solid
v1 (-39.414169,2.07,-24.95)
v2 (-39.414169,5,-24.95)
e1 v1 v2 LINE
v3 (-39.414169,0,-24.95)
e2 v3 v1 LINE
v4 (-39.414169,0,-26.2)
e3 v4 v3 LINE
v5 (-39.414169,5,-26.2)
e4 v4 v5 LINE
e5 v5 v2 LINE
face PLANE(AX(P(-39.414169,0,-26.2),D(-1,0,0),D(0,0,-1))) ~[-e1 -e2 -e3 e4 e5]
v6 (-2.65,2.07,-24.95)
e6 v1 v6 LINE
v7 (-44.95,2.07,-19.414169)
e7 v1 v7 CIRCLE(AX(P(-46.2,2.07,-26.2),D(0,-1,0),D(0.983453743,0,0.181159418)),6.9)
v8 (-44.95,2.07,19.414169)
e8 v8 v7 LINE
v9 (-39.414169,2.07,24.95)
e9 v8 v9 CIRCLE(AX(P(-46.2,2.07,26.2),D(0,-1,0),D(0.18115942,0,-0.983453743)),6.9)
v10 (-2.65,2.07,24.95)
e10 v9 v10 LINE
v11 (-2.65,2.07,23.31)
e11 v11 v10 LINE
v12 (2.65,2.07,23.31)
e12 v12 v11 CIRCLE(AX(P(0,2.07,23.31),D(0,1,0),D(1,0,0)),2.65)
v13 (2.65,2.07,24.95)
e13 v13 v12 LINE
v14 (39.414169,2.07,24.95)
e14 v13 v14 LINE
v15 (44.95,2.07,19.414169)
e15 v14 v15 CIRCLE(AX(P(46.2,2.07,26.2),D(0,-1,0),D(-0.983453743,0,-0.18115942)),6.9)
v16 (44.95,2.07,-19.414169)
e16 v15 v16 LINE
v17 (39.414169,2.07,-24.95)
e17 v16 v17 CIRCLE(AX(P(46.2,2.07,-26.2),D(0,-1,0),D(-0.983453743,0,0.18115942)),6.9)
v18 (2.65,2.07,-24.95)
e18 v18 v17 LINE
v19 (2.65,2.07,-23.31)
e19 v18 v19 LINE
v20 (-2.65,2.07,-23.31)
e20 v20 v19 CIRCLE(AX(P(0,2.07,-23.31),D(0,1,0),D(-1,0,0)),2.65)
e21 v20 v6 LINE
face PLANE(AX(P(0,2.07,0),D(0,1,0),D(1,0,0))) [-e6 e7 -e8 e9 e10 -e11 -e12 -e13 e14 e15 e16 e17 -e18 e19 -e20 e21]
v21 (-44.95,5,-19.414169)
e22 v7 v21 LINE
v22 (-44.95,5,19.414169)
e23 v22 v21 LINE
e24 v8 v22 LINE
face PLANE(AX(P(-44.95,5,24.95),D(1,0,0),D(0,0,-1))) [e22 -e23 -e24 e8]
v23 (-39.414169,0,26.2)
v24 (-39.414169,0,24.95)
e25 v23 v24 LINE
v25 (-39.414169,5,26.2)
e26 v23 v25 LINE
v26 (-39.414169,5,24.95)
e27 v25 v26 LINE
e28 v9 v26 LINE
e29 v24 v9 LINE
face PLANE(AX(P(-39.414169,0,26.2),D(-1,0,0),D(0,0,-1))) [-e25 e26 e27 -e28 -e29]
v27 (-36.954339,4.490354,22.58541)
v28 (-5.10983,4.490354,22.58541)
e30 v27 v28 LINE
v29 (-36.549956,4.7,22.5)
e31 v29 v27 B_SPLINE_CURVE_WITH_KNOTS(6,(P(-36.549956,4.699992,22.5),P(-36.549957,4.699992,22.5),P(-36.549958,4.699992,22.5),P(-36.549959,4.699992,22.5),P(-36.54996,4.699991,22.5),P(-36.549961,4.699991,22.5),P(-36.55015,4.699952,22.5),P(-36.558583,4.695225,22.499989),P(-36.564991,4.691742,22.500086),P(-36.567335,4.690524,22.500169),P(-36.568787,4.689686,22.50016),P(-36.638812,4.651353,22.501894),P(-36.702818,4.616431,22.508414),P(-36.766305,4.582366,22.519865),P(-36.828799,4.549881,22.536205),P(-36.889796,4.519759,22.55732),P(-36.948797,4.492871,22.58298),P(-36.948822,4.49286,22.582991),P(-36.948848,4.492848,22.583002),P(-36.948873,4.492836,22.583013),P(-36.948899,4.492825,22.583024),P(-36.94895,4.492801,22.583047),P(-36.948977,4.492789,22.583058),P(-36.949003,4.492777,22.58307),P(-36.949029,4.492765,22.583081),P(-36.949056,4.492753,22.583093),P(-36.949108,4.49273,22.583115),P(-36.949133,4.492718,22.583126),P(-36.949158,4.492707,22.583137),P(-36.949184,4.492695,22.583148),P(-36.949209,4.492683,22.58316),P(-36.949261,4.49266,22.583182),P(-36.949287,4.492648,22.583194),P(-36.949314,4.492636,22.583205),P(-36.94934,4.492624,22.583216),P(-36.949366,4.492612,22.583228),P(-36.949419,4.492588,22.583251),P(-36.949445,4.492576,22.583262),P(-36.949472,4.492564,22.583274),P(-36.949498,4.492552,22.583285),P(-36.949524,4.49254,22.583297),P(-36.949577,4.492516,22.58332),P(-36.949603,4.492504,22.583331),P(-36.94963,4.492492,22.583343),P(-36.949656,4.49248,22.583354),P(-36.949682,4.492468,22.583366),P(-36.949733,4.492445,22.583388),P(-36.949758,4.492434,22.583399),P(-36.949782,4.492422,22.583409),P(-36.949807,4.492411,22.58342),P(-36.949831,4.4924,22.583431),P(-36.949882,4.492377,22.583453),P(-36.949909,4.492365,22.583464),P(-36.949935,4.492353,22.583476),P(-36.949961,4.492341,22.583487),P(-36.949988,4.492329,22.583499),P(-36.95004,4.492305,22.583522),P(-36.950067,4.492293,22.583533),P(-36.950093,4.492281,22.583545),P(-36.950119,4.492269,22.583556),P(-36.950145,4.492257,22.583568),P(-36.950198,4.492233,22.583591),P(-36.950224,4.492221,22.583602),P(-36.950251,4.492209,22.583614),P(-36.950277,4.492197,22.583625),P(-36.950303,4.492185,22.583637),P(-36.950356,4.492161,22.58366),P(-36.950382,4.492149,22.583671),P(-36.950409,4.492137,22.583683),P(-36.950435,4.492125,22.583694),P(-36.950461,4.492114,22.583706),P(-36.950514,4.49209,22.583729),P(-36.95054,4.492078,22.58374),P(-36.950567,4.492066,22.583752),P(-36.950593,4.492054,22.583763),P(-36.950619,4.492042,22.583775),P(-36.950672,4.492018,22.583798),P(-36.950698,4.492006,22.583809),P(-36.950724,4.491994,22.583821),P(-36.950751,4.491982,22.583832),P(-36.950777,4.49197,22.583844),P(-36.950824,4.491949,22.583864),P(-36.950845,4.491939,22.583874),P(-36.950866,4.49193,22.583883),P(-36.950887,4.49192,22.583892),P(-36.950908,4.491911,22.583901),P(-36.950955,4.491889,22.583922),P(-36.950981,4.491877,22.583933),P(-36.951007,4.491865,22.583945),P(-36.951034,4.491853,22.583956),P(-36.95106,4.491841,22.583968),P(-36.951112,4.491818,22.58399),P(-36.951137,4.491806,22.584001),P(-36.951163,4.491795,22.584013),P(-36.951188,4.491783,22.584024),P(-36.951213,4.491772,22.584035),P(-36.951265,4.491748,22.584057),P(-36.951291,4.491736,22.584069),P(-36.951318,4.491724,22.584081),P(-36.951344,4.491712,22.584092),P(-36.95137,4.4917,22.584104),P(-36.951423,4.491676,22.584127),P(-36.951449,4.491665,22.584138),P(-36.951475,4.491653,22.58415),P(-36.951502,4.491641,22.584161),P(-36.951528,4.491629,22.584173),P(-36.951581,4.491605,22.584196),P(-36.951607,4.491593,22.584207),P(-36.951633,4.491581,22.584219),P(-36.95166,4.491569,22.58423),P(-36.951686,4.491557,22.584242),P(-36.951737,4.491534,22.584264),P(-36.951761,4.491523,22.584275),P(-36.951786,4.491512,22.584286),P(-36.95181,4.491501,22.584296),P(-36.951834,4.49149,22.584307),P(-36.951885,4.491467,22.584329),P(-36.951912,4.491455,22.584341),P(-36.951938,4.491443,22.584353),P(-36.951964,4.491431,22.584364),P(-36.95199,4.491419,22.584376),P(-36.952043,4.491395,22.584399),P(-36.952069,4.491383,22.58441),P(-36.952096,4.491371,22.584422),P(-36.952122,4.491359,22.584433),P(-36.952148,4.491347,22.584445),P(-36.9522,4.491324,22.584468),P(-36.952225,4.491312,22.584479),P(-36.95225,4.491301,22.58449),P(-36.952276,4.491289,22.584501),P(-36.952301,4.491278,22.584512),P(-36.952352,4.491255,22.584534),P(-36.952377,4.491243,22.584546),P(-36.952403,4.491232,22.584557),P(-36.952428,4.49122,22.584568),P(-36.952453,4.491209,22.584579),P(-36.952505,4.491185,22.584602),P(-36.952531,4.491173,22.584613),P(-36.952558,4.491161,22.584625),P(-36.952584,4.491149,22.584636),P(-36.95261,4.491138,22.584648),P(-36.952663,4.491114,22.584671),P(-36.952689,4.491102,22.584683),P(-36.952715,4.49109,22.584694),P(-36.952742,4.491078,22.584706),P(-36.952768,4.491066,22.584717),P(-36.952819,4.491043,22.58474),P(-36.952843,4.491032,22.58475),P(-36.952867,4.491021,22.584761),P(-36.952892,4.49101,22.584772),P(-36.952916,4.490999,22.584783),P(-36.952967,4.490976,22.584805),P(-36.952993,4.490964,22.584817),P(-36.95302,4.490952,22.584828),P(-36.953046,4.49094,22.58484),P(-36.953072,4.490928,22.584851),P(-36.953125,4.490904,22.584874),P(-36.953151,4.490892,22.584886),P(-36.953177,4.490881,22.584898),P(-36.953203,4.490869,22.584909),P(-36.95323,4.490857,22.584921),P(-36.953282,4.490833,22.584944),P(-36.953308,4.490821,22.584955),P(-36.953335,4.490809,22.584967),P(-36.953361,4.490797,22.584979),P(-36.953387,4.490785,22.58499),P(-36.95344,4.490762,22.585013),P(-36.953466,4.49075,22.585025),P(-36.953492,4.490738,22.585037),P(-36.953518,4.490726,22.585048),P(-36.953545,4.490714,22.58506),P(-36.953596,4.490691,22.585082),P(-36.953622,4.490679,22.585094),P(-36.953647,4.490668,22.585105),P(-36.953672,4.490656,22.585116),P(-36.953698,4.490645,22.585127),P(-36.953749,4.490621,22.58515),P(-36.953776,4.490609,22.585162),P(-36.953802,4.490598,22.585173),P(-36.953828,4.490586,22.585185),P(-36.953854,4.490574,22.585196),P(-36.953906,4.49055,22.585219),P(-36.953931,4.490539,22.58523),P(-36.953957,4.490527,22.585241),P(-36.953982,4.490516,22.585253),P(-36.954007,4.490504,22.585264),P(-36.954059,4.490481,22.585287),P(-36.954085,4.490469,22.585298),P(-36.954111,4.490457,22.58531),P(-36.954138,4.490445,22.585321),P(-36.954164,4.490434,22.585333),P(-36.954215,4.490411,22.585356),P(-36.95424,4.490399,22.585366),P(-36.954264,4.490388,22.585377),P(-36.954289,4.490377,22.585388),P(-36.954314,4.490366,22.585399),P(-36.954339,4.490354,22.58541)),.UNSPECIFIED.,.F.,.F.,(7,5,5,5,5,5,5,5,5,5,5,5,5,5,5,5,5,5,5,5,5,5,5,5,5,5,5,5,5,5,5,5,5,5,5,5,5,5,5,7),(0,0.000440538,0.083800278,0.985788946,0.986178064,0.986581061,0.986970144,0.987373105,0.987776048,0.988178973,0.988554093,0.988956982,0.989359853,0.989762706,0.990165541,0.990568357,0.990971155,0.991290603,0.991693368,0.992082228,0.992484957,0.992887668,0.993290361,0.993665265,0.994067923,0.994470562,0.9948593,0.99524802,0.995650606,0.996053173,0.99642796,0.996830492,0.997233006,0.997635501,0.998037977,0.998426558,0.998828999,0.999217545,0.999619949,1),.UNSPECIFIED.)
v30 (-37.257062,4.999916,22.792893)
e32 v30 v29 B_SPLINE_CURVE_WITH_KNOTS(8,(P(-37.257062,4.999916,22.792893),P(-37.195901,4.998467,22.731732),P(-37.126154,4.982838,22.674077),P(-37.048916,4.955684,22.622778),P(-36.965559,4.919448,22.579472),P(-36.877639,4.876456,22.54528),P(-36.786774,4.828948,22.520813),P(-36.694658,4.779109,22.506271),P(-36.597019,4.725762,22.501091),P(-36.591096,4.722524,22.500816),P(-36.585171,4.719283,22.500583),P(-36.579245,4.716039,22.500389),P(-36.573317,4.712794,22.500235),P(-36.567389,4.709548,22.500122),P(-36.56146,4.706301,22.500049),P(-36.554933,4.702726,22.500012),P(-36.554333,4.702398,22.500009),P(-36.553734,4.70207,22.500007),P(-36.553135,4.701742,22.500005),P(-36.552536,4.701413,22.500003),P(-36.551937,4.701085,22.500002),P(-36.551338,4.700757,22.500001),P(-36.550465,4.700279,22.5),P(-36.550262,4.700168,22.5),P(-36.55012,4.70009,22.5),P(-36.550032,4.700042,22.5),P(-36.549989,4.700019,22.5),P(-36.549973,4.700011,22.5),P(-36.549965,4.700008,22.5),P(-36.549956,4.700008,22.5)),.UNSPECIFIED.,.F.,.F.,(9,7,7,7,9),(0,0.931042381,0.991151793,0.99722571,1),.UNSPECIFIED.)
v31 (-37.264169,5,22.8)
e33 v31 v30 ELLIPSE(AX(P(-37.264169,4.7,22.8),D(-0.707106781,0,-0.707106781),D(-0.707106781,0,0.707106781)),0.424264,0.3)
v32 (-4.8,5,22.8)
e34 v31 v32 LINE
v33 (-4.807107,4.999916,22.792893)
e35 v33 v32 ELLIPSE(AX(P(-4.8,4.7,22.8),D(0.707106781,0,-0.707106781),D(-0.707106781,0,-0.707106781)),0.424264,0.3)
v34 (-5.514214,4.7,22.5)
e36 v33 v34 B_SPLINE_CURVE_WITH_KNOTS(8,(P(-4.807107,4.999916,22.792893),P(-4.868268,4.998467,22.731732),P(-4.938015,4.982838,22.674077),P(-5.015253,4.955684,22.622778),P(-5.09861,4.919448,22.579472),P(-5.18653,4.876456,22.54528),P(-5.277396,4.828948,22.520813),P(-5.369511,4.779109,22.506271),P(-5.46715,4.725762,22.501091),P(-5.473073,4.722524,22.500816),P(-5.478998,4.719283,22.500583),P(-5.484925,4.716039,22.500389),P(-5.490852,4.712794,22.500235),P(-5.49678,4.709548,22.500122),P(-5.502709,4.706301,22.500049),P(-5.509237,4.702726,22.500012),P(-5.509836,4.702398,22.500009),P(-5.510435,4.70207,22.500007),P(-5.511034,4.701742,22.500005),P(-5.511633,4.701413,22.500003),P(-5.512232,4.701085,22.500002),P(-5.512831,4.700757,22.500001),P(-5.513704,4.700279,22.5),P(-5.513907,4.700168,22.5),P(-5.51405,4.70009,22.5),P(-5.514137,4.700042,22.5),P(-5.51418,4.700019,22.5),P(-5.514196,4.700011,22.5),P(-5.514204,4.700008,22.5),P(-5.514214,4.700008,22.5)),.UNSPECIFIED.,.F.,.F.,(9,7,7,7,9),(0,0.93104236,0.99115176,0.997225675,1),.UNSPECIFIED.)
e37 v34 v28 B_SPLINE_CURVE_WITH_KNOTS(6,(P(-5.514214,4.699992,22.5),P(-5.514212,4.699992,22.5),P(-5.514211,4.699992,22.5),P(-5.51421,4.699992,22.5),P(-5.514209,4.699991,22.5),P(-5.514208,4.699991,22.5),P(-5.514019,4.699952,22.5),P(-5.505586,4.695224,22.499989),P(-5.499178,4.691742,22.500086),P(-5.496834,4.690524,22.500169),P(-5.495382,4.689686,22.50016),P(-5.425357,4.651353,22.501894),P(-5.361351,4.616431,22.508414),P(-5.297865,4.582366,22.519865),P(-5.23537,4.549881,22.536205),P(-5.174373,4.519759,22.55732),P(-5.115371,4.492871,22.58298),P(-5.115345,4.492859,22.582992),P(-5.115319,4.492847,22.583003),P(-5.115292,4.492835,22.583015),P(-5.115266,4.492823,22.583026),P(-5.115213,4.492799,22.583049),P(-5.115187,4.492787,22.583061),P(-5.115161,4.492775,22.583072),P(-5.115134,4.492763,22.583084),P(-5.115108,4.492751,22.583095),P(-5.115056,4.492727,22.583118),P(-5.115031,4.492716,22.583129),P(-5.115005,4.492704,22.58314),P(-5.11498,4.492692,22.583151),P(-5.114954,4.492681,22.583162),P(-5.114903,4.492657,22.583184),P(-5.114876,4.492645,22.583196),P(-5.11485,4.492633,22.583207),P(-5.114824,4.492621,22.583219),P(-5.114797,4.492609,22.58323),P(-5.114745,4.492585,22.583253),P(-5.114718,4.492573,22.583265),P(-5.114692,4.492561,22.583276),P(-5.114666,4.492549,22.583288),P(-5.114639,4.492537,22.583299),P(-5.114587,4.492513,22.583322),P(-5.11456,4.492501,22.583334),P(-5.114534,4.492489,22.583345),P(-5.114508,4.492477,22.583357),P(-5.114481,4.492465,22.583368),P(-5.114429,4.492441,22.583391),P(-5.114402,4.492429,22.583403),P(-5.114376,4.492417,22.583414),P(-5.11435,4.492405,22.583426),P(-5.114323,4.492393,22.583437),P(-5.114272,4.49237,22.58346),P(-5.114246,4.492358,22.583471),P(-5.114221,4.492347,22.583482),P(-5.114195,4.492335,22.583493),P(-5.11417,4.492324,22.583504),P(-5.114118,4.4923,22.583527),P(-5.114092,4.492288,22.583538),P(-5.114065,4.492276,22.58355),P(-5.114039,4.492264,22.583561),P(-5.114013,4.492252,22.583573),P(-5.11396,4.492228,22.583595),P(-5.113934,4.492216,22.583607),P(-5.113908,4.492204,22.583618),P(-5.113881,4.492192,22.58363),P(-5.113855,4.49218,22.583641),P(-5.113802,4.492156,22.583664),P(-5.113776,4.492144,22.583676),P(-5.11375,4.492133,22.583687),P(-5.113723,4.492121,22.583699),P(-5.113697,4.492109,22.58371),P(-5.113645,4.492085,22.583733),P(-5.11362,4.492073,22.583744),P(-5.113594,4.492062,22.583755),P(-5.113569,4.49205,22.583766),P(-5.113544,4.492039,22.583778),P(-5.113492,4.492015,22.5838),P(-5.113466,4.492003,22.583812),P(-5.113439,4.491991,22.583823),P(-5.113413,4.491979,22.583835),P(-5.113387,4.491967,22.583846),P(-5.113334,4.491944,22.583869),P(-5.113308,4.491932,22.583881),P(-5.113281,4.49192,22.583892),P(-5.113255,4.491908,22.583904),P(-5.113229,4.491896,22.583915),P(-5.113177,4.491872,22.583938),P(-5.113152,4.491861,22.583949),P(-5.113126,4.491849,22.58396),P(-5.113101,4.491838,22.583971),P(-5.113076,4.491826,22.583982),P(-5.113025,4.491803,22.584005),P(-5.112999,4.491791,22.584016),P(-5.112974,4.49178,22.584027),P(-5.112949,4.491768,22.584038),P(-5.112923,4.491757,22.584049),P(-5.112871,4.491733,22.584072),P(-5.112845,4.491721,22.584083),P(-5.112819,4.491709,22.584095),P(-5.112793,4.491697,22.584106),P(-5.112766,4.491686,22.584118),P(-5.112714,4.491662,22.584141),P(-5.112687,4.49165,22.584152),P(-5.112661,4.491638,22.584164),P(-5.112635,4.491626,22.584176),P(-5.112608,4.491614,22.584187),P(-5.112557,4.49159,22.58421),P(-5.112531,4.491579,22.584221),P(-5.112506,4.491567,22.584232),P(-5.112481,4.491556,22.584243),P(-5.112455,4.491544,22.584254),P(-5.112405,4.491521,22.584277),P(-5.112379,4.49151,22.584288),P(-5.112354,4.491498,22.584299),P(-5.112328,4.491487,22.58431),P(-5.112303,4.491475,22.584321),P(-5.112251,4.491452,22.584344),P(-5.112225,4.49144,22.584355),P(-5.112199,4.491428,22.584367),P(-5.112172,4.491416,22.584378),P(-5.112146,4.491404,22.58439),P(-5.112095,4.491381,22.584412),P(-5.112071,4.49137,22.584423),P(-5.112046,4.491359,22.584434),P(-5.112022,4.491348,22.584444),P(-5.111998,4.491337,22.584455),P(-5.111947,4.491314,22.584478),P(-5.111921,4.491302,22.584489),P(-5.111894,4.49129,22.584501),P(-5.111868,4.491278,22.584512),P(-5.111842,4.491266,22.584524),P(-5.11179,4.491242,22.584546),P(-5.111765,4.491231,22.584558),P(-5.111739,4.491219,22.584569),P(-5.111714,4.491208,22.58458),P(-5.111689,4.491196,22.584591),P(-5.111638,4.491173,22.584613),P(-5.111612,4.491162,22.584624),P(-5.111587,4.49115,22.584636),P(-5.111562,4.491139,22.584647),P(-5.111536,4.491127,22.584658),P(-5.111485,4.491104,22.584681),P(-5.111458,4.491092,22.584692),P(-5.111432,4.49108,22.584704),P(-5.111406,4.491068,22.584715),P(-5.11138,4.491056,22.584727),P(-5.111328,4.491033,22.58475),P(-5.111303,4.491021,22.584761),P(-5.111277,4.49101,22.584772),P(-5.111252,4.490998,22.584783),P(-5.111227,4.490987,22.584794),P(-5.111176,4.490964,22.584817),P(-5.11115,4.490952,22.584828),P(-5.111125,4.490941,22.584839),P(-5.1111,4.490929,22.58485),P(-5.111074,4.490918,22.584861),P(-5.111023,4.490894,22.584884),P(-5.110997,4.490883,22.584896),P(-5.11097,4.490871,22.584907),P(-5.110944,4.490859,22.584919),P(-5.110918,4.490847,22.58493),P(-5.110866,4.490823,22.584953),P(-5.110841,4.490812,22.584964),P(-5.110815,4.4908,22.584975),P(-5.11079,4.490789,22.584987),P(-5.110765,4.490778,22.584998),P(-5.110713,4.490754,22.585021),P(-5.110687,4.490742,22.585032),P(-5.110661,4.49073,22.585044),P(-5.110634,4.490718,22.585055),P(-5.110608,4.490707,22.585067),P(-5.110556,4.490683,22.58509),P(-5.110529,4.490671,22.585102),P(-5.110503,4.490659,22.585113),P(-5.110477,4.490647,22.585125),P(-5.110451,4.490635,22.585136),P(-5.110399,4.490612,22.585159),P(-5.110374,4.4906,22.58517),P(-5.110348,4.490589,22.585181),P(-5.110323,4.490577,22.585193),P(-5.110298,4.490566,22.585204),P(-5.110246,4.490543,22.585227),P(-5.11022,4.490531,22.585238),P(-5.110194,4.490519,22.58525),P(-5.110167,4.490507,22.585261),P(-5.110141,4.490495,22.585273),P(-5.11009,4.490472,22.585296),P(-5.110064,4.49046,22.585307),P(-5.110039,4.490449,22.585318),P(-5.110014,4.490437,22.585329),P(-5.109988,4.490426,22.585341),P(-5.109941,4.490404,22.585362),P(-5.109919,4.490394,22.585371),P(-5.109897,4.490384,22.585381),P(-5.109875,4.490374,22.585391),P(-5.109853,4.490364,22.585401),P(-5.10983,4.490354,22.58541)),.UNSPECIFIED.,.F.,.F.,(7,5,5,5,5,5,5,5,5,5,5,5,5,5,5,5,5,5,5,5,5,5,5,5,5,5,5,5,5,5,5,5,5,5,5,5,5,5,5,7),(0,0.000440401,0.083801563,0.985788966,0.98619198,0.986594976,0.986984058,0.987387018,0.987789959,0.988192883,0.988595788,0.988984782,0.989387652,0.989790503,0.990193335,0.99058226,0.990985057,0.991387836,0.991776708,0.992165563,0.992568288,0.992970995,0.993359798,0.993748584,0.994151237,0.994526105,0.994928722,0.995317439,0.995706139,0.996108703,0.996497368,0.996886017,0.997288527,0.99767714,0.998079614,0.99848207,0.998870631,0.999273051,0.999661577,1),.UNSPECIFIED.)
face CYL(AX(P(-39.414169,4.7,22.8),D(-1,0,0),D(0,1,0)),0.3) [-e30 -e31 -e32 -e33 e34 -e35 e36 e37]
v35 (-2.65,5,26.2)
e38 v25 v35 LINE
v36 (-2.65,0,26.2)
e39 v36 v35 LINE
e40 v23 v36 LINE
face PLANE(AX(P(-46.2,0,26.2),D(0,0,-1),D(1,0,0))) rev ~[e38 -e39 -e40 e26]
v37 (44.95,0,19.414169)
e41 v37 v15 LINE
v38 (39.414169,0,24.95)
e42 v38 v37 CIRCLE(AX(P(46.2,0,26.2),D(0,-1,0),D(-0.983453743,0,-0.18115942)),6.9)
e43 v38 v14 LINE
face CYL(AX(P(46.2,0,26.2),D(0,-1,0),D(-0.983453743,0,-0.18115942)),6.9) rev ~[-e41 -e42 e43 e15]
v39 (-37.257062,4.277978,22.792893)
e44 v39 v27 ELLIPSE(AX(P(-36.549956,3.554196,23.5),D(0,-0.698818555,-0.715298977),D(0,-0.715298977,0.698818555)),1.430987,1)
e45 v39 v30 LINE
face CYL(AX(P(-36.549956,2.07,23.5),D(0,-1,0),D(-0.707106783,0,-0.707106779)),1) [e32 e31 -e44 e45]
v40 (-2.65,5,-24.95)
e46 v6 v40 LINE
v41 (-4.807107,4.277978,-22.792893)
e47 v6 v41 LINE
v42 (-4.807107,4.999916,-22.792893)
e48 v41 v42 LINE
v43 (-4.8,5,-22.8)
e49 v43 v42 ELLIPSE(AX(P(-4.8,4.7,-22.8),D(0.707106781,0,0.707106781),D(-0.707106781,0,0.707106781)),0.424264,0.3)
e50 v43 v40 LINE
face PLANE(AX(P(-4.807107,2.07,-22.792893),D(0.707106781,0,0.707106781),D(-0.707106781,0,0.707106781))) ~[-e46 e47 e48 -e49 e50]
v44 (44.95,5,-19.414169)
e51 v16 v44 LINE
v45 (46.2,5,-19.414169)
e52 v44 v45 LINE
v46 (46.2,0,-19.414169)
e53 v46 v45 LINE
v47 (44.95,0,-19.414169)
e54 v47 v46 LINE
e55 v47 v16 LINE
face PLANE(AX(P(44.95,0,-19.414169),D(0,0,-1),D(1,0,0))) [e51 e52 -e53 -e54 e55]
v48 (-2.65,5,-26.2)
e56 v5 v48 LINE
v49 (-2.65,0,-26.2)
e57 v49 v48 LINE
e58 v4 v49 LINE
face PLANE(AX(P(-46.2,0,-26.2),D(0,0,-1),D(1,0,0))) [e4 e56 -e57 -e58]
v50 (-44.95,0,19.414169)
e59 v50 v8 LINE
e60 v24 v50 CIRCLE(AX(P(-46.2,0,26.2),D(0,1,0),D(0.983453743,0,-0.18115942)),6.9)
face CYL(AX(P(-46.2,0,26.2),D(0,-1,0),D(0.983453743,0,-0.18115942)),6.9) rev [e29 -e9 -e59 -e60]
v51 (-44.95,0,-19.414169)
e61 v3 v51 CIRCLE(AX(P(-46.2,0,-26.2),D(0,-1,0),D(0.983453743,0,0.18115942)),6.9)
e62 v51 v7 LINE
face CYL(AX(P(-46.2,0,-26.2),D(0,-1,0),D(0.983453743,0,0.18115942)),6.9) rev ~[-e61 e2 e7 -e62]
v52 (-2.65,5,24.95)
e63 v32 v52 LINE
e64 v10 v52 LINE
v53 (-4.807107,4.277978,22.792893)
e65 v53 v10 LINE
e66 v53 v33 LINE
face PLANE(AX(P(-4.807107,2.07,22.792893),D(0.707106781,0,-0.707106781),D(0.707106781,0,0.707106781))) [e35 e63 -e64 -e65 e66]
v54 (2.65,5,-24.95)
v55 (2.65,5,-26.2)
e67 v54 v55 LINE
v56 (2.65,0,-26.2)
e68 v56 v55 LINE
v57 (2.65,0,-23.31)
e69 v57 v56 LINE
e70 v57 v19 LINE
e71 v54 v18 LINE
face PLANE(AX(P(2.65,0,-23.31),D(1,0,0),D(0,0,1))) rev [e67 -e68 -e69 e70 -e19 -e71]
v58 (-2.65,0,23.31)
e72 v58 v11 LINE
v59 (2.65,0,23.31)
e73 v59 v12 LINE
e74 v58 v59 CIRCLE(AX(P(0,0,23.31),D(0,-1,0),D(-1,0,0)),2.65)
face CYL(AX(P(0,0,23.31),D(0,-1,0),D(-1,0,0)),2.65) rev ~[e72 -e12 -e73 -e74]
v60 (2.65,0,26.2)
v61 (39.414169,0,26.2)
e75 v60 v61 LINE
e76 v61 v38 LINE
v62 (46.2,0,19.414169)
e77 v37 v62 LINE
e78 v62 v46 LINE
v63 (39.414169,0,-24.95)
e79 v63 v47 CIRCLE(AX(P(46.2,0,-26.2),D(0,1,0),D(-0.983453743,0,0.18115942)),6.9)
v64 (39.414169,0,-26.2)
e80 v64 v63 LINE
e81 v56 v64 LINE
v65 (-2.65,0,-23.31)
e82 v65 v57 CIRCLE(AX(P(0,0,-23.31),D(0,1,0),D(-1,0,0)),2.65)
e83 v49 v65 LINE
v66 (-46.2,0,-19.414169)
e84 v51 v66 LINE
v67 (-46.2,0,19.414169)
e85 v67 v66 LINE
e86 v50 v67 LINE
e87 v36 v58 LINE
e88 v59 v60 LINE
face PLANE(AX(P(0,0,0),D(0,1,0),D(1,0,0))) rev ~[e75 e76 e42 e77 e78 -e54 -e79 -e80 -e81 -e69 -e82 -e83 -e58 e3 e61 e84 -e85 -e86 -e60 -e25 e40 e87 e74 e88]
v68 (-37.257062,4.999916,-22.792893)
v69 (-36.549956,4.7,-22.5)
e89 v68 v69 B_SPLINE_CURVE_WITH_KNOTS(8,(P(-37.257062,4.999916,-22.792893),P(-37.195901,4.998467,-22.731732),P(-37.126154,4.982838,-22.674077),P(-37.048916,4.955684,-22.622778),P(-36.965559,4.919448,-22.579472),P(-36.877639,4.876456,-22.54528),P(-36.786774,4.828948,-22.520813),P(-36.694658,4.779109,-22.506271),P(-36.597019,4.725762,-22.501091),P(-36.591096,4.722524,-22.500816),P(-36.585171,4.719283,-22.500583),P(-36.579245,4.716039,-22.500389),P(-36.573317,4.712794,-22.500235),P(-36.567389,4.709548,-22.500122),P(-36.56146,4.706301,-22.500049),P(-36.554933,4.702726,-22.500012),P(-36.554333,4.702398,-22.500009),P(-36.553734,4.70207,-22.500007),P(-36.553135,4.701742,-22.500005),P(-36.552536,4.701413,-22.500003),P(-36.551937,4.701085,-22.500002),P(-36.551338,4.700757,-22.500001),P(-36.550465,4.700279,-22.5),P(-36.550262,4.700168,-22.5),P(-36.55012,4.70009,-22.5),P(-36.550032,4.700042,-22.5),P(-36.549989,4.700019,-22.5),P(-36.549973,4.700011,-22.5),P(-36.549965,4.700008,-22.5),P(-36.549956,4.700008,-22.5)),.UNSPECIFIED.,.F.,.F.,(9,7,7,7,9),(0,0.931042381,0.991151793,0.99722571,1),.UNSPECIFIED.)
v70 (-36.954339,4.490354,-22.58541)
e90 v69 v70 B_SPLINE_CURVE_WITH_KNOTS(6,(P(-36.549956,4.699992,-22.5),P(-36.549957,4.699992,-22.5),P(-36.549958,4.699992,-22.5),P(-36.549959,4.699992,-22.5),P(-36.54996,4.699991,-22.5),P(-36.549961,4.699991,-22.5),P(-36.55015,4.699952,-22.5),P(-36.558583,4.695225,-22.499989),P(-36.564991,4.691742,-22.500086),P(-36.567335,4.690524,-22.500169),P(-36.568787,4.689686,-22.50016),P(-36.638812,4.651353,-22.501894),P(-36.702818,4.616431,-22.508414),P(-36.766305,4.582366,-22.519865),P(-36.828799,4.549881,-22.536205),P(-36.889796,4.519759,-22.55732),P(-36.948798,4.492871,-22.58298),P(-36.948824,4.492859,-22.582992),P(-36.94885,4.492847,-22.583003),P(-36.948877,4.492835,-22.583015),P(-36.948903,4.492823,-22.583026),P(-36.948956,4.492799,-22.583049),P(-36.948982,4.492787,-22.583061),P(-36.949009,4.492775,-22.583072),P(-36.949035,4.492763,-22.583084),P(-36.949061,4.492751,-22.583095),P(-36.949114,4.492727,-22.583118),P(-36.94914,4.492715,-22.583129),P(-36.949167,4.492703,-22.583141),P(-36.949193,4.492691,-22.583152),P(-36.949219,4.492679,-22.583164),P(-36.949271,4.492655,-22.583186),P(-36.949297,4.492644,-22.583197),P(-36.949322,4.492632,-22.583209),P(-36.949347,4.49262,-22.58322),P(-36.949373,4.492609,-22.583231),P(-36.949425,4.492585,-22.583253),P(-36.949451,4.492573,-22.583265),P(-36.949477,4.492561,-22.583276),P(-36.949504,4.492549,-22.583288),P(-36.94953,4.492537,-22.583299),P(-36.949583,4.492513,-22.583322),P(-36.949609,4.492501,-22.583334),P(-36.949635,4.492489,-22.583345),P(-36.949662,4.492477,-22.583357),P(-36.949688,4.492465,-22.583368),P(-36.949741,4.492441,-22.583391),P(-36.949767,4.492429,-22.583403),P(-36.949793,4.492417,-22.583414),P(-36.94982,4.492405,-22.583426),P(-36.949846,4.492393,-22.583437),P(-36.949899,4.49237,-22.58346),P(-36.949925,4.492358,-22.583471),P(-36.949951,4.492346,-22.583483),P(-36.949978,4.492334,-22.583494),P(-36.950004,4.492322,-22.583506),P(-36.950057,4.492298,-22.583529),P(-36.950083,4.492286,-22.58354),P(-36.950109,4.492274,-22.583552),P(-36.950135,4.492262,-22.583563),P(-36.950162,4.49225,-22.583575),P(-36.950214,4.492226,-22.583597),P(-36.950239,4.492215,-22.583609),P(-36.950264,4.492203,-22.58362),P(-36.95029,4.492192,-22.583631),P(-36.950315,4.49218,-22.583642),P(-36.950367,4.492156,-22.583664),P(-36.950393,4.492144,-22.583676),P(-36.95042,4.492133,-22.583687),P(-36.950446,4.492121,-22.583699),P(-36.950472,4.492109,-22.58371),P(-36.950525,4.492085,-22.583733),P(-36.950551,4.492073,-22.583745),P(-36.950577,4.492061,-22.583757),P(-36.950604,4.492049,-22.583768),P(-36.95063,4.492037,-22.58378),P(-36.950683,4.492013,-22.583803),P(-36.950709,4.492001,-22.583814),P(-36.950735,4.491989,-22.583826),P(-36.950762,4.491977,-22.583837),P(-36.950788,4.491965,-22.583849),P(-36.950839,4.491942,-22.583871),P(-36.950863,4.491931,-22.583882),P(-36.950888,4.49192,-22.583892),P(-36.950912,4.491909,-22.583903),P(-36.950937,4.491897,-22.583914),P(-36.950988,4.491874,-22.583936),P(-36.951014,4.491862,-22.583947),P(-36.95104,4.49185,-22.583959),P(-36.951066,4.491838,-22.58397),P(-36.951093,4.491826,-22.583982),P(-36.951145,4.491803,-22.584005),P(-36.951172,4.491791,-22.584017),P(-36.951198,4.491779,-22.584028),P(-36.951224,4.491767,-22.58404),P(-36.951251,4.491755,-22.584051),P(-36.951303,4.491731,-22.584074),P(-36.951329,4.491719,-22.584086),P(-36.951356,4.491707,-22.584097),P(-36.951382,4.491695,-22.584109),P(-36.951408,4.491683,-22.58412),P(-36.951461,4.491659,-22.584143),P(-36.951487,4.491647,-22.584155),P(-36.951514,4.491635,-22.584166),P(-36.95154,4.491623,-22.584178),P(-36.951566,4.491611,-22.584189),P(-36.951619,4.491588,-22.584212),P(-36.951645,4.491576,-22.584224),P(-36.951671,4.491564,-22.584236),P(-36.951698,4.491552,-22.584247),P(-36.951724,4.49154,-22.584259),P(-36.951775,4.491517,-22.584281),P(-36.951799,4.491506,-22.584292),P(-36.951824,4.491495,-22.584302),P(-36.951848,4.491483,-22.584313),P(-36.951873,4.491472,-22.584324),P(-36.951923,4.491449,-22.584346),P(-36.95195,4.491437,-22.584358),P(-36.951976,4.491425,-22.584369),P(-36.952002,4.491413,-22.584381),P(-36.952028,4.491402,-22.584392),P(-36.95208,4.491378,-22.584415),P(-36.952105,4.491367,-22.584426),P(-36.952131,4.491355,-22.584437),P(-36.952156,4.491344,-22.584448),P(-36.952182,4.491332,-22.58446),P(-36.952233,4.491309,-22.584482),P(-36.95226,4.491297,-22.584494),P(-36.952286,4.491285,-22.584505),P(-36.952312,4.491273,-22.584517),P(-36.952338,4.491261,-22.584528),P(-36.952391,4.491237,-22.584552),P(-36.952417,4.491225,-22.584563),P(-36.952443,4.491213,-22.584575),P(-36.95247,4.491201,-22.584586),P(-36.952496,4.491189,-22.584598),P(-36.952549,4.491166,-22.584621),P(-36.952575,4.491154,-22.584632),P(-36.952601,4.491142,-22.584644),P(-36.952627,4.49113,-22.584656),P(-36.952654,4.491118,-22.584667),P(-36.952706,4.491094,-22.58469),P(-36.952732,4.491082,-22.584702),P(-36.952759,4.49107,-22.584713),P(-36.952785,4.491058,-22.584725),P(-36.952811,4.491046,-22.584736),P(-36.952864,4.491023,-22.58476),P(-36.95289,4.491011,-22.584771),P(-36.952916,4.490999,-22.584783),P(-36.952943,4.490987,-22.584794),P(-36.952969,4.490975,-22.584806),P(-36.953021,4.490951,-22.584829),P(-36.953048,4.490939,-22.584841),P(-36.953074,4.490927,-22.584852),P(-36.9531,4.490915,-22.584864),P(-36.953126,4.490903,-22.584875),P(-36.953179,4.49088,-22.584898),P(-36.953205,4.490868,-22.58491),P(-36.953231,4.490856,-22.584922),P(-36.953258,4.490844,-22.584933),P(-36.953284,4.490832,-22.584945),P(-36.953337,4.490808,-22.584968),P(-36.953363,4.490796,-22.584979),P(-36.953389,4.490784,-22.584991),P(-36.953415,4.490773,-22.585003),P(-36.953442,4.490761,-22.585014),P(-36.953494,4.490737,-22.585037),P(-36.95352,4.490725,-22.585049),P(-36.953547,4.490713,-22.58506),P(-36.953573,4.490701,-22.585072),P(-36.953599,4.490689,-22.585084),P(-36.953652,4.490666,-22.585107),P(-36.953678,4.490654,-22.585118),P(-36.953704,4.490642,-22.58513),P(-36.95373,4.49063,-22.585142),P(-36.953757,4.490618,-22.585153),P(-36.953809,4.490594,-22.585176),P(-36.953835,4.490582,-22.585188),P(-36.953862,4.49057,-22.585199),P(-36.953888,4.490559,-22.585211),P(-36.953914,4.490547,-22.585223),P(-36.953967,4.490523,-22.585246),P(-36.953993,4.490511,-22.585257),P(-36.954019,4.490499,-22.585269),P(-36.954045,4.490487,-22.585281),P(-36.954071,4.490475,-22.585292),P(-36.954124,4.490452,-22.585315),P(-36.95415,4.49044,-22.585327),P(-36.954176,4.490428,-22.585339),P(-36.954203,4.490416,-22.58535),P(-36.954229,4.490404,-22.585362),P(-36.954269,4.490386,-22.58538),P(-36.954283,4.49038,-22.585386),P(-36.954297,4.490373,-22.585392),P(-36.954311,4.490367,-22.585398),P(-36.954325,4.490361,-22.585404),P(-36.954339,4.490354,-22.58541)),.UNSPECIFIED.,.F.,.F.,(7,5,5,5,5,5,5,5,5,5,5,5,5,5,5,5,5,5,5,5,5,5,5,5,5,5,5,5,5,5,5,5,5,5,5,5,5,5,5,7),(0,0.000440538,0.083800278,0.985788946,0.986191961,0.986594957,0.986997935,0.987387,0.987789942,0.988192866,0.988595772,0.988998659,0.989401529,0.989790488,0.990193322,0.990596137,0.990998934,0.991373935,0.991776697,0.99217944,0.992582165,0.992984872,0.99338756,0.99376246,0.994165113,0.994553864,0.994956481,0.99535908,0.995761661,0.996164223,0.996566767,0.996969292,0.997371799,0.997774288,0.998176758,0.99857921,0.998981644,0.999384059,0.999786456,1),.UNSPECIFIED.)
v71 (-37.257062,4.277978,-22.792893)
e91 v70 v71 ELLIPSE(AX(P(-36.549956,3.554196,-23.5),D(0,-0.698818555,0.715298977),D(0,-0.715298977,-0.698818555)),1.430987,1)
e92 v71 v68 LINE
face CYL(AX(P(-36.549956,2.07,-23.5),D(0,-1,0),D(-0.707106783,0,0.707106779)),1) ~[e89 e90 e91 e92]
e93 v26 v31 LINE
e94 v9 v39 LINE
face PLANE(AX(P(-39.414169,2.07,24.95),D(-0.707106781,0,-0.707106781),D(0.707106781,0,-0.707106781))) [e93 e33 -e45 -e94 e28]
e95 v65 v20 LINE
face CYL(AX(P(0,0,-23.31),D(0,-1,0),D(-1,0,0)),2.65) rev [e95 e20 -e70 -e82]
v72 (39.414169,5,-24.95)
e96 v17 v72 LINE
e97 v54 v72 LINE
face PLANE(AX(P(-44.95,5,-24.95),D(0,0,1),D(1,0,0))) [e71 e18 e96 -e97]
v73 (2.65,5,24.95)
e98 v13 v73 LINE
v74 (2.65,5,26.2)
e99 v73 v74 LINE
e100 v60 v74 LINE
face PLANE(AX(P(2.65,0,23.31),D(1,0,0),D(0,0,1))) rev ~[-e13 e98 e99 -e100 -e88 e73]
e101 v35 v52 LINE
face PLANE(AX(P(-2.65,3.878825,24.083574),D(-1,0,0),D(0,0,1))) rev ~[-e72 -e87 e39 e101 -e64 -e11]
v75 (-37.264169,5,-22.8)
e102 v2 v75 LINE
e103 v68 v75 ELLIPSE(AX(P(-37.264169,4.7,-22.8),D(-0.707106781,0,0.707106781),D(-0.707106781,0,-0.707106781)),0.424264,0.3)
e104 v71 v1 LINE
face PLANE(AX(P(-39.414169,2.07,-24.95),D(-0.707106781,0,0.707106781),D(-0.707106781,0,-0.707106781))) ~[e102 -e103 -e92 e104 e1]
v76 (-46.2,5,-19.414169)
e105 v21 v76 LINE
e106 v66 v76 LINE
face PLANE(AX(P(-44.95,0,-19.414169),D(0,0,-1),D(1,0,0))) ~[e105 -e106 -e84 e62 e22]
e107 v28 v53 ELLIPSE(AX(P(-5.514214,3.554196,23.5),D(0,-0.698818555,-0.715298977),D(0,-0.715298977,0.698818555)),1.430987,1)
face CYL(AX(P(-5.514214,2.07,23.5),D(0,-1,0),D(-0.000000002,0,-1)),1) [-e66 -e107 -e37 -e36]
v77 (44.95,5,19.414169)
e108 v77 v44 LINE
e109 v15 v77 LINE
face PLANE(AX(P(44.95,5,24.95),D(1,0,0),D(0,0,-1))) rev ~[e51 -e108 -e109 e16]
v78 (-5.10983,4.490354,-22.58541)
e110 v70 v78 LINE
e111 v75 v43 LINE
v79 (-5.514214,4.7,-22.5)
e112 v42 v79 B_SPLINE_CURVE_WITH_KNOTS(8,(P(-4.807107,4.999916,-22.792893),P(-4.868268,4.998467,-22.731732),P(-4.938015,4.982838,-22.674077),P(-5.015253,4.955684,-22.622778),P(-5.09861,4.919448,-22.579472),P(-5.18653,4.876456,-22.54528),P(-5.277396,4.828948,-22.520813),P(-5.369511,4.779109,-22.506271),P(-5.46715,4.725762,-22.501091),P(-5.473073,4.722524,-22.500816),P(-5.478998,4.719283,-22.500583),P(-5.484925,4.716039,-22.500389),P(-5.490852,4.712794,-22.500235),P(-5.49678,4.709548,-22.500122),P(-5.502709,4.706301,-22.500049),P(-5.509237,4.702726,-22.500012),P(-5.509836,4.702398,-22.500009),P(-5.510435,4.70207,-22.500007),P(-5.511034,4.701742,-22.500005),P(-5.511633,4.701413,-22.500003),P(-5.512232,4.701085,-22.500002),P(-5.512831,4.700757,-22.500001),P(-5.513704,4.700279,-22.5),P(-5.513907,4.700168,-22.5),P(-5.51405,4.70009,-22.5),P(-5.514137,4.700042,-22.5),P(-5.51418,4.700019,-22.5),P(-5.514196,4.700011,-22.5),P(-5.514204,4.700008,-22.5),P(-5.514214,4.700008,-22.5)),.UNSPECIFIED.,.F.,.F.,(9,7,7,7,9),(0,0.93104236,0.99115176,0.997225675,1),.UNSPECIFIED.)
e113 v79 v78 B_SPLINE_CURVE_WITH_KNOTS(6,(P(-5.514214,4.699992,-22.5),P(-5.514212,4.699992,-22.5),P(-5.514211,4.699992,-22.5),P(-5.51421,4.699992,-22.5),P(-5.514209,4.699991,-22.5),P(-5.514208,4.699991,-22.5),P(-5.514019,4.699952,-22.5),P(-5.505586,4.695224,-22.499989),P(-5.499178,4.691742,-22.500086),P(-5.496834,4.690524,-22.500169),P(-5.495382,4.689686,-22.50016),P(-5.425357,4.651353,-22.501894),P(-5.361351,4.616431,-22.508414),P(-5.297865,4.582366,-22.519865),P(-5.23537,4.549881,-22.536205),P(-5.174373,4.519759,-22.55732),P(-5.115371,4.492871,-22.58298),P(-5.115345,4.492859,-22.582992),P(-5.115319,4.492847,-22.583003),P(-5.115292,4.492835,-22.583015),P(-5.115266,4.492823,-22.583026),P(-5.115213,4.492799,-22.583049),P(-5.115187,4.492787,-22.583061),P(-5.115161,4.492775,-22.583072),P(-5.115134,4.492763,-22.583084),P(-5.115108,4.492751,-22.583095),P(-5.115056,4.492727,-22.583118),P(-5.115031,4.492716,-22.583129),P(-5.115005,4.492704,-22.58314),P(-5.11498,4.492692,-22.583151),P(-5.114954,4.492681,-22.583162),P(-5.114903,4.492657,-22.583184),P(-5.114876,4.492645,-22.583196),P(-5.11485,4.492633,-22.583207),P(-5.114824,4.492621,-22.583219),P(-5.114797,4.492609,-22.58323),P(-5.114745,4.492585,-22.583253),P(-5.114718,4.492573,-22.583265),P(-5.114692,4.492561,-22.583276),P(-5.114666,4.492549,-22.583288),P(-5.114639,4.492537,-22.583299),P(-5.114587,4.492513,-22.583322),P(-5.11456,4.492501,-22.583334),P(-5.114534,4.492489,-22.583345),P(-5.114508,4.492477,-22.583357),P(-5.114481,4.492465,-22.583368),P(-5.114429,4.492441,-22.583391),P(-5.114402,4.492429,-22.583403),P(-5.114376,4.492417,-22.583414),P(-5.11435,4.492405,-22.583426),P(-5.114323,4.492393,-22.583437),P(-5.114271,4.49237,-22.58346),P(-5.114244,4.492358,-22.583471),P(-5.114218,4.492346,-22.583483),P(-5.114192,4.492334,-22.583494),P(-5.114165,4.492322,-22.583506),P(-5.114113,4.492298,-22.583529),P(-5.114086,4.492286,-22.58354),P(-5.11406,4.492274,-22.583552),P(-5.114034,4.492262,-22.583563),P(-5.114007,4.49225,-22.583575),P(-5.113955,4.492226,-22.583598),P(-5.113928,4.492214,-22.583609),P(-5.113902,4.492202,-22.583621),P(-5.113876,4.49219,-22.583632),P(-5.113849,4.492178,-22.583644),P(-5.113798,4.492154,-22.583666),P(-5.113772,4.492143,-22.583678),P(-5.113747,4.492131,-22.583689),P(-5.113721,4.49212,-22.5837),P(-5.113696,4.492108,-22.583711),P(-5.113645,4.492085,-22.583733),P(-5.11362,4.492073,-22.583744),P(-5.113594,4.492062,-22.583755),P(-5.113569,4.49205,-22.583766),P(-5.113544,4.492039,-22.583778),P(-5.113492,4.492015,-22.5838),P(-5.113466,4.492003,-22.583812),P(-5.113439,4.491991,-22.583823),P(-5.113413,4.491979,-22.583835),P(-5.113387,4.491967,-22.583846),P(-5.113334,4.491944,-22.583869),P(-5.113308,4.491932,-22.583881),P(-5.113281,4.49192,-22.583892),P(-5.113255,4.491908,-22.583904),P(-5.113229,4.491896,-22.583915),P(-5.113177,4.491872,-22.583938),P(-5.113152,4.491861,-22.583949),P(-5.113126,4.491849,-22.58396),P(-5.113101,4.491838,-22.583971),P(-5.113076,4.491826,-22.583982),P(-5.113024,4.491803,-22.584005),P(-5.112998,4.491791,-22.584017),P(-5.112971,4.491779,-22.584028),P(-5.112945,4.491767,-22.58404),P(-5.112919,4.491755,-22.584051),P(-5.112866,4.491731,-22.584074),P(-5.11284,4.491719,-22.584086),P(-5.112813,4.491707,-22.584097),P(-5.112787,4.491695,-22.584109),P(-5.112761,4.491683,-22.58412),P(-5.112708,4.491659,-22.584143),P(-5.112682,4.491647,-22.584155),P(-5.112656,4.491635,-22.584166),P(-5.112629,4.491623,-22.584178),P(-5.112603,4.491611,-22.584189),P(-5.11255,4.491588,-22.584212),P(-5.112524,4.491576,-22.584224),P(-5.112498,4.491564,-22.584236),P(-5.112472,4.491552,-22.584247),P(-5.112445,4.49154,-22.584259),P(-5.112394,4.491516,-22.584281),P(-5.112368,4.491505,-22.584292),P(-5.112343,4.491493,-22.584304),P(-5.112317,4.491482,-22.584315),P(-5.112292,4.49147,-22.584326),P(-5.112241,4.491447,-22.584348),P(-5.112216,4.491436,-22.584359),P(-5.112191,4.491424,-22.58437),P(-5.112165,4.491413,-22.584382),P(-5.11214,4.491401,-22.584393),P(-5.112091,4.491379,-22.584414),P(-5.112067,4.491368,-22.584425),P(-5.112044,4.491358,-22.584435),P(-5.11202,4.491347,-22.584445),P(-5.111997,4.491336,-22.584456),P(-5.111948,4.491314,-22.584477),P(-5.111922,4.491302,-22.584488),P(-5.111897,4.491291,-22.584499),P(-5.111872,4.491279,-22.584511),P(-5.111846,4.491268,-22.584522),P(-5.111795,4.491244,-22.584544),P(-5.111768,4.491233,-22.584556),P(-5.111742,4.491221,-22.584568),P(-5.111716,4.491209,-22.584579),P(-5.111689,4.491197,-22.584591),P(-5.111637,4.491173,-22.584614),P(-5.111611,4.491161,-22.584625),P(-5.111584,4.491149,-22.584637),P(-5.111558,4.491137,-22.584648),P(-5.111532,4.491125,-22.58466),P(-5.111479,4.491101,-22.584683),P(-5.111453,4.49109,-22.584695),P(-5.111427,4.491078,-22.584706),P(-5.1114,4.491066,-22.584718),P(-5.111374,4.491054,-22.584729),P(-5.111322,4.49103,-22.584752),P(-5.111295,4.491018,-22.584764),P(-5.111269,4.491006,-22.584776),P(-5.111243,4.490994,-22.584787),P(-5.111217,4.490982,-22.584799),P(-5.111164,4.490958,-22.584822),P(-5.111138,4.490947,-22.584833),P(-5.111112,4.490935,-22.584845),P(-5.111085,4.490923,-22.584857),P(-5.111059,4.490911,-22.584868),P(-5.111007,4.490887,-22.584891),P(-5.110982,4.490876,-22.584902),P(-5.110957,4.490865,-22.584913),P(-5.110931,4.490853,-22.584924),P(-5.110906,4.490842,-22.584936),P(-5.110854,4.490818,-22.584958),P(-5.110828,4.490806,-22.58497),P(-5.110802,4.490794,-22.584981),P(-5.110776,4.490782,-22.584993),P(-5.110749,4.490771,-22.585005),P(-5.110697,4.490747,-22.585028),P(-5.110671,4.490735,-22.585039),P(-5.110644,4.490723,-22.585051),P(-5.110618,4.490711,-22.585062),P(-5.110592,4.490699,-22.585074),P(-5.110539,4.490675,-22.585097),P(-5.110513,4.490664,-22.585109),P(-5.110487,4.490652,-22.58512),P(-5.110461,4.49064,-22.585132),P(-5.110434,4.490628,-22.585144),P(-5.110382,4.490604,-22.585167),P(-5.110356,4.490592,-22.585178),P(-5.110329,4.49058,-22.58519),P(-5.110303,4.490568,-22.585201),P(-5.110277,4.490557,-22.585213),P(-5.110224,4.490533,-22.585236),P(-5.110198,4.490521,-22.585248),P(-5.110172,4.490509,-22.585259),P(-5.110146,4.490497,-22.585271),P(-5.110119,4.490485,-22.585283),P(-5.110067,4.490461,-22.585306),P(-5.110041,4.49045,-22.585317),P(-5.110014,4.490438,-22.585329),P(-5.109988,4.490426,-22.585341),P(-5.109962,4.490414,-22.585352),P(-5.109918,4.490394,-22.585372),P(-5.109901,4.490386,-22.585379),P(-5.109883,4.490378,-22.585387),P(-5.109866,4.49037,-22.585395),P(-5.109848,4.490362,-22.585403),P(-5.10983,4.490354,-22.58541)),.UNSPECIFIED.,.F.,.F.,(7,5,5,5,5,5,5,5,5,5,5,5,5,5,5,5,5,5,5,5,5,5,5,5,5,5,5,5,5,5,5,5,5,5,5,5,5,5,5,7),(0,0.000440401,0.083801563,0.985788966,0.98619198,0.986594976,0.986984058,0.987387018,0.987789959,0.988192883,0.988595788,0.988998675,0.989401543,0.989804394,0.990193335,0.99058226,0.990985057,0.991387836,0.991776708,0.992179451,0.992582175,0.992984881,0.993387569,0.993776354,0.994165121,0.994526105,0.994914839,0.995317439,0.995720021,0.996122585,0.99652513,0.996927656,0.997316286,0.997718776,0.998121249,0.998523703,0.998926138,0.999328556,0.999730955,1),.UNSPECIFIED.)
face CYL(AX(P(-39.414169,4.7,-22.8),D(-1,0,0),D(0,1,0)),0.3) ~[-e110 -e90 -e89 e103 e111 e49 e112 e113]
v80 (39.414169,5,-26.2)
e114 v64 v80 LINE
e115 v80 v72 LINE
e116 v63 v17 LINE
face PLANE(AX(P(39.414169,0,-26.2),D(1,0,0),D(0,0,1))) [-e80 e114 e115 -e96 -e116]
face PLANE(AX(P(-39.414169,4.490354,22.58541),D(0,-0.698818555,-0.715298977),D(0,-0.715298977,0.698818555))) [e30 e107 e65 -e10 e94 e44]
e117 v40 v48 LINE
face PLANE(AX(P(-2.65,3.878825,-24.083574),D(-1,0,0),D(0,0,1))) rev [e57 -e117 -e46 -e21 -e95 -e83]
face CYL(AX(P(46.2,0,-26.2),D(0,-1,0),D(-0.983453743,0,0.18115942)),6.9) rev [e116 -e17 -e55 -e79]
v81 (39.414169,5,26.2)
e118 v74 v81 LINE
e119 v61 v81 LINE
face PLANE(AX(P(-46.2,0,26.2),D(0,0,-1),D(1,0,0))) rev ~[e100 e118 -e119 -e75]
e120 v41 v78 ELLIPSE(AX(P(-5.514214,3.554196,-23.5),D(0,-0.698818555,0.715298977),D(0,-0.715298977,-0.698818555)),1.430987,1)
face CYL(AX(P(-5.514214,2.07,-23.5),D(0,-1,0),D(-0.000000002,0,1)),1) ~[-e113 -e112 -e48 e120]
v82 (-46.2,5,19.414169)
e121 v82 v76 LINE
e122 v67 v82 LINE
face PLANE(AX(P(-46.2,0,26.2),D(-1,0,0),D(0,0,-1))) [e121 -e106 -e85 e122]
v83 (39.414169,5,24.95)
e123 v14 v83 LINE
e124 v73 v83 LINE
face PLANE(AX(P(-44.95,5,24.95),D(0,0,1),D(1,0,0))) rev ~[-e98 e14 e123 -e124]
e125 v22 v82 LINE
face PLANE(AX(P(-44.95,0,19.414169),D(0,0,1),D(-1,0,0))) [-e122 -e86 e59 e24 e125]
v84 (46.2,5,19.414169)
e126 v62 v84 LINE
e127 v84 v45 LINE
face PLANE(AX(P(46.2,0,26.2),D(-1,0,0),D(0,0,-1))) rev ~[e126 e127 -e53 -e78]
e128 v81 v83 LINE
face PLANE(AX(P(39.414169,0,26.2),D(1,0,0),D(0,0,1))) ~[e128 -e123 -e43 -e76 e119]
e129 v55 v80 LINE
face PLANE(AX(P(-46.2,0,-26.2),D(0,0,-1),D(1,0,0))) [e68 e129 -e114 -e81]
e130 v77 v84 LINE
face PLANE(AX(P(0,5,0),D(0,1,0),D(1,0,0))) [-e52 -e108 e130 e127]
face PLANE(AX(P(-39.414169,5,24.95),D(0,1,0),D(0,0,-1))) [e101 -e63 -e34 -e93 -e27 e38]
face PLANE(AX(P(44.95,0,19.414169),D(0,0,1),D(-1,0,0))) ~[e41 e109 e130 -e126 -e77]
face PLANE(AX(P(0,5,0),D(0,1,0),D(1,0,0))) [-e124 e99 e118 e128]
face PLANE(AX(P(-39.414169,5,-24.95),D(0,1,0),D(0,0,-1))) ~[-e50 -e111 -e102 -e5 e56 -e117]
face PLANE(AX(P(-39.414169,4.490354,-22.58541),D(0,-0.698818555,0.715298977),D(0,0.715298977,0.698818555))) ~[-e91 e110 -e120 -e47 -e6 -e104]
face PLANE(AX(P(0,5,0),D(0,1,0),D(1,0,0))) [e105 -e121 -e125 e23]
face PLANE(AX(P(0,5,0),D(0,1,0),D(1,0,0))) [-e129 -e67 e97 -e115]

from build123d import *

# Parameters (mm, degrees)
CROQUIS1_W              = 92.4
CROQUIS1_H              = 52.4
SALIENTE_EXTRUIR1_DEPTH = 5
CROQUIS2_W              = 89.9
CROQUIS2_H              = 49.9
CORTAR_EXTRUIR1_DEPTH   = 2.93
CORTAR_EXTRUIR2_START   = -2.07
CORTAR_EXTRUIR2_DEPTH   = 5
CORTAR_EXTRUIR3_START   = -2.07
CORTAR_EXTRUIR3_DEPTH   = 5
SIMETR_A2_START         = -2.07
SIMETR_A2_COPY_1_DEPTH  = 5
SALIENTE_EXTRUIR3_START = -36.764169
SALIENTE_EXTRUIR3_DEPTH = 36.764169
CORTAR_EXTRUIR5_REACH   = 55.193


with BuildPart() as part:
    # Croquis1 → Saliente-Extruir1 (new body)
    with BuildSketch(Plane(origin=(0, 0, 0), x_dir=(1, 0, 0), z_dir=(0, 1, 0))):
        Rectangle(CROQUIS1_W, CROQUIS1_H)
    extrude(amount=SALIENTE_EXTRUIR1_DEPTH)

    # Croquis2 → Cortar-Extruir1 (cut)
    with BuildSketch(Plane(origin=(0, 5, 0), x_dir=(1, 0, 0), z_dir=(0, 1, 0))):
        Rectangle(CROQUIS2_W, CROQUIS2_H)
    extrude(amount=-CORTAR_EXTRUIR1_DEPTH, mode=Mode.SUBTRACT)

    # Croquis3 → Cortar-Extruir2 (cut)
    with BuildSketch(Plane(origin=(0, 2.07, 0), x_dir=(1, 0, 0), z_dir=(0, 1, 0)).offset(CORTAR_EXTRUIR2_START)):
        with BuildLine():
            Line((2.65, -23.31), (2.65, -26.2))
            Line((2.65, -26.2), (-2.65, -26.2))
            Line((-2.65, -26.2), (-2.65, -23.31))
            ThreePointArc((-2.65, -23.31), (0, -20.66), (2.65, -23.31))
        make_face()
    cortar_extruir2 = extrude(amount=CORTAR_EXTRUIR2_DEPTH, mode=Mode.SUBTRACT)

    # Croquis4 → Cortar-Extruir3 (cut)
    with BuildSketch(Plane(origin=(0, 2.07, 0), x_dir=(1, 0, 0), z_dir=(0, 1, 0)).offset(CORTAR_EXTRUIR3_START)):
        with BuildLine():
            Line((-46.2, -19.414169174), (-46.2, -26.2))
            Line((-46.2, -26.2), (-39.414169174, -26.2))
            Line((-39.414169174, -26.2), (-39.414169174, -24.95))
            ThreePointArc((-39.414169174, -24.95), (-41.32096321, -21.32096321), (-44.95, -19.414169174))
            Line((-44.95, -19.414169174), (-46.2, -19.414169174))
        make_face()
    cortar_extruir3 = extrude(amount=CORTAR_EXTRUIR3_DEPTH, mode=Mode.SUBTRACT)

    # Simetría1: Cortar-Extruir3 across plane
    add(cortar_extruir3.mirror(Plane(origin=(0, 0, 0), x_dir=(0, 0, 1), z_dir=(1, 0, 0))), mode=Mode.SUBTRACT)

    # Simetría2: Cortar-Extruir3 across plane
    add(cortar_extruir3.mirror(Plane.XY), mode=Mode.SUBTRACT)

    # Simetría2 copy 1 sketch → Simetría2 copy 1 (cut)
    with BuildSketch(Plane(origin=(0, 2.07, 0), x_dir=(-1, 0, 0), z_dir=(0, 1, 0)).offset(SIMETR_A2_START)):
        with BuildLine():
            Line((-46.2, -19.414169174), (-46.2, -26.2))
            Line((-46.2, -26.2), (-39.414169174, -26.2))
            Line((-39.414169174, -26.2), (-39.414169174, -24.95))
            ThreePointArc((-39.414169174, -24.95), (-41.32096321, -21.32096321), (-44.95, -19.414169174))
            Line((-44.95, -19.414169174), (-46.2, -19.414169174))
        make_face()
    extrude(amount=SIMETR_A2_COPY_1_DEPTH, mode=Mode.SUBTRACT)

    # Simetría3: Cortar-Extruir2 across plane
    add(cortar_extruir2.mirror(Plane.XY), mode=Mode.SUBTRACT)

    # Croquis7 → Saliente-Extruir3 (add)
    with BuildSketch(Plane(origin=(-2.65, 0, 0), x_dir=(0, 0, -1), z_dir=(1, 0, 0)).offset(SALIENTE_EXTRUIR3_START)):
        with BuildLine():
            Line((-24.95, 2.07), (-24.95, 5))
            Line((-24.95, 5), (-22.8, 5))
            ThreePointArc((-22.8, 5), (-22.523509792, 4.816418061), (-22.585410307, 4.490354433))
            Line((-22.585410307, 4.490354433), (-24.95, 2.07))
        make_face()
    saliente_extruir3 = extrude(amount=SALIENTE_EXTRUIR3_DEPTH)

    # Cortar-Extruir5: up to this face of the body (flat: up to its plane)
    cortar_extruir5_end = Plane(part.part.faces().sort_by_distance((21.032084587, 5, 25.575))[0])
    # Croquis8 → Cortar-Extruir5 (cut, up to the picked face)
    with BuildSketch(Plane(origin=(0, 2.07, 0), x_dir=(1, 0, 0), z_dir=(0, 1, 0)), mode=Mode.PRIVATE) as cortar_extruir5_sk1:
        with BuildLine():
            Line((-39.414169174, -24.95), (-37.257062393, -22.792893219))
            ThreePointArc((-37.257062393, -22.792893219), (-36.932639044, -22.576120467), (-36.549955612, -22.5))
            Line((-36.549955612, -22.5), (-5.514213562, -22.5))
            ThreePointArc((-5.514213562, -22.5), (-5.13153013, -22.576120467), (-4.807106781, -22.792893219))
            Line((-4.807106781, -22.792893219), (-2.65, -24.95))
            Line((-2.65, -24.95), (-1.683524182, -24.95))
            Line((-1.683524182, -24.95), (-1.683524182, -18.227572619))
            Line((-1.683524182, -18.227572619), (-40.735830346, -18.227572619))
            Line((-40.735830346, -18.227572619), (-40.735830346, -24.95))
            Line((-40.735830346, -24.95), (-39.414169174, -24.95))
        make_face()
    cortar_extruir5_tool1 = split(extrude(cortar_extruir5_sk1.sketch, amount=CORTAR_EXTRUIR5_REACH, mode=Mode.PRIVATE), bisect_by=cortar_extruir5_end, keep=Keep.BOTH, mode=Mode.PRIVATE)
    cortar_extruir5 = cortar_extruir5_tool1.solids().sort_by(Axis((-21.293277, 2.07, 20.569176), (0, 1, 0)))[0]
    add(cortar_extruir5, mode=Mode.SUBTRACT)

    # Simetría4: Saliente-Extruir3, Cortar-Extruir5 across plane
    add(saliente_extruir3.mirror(Plane.XY))
    add(cortar_extruir5.mirror(Plane.XY), mode=Mode.SUBTRACT)


solid = part.part
